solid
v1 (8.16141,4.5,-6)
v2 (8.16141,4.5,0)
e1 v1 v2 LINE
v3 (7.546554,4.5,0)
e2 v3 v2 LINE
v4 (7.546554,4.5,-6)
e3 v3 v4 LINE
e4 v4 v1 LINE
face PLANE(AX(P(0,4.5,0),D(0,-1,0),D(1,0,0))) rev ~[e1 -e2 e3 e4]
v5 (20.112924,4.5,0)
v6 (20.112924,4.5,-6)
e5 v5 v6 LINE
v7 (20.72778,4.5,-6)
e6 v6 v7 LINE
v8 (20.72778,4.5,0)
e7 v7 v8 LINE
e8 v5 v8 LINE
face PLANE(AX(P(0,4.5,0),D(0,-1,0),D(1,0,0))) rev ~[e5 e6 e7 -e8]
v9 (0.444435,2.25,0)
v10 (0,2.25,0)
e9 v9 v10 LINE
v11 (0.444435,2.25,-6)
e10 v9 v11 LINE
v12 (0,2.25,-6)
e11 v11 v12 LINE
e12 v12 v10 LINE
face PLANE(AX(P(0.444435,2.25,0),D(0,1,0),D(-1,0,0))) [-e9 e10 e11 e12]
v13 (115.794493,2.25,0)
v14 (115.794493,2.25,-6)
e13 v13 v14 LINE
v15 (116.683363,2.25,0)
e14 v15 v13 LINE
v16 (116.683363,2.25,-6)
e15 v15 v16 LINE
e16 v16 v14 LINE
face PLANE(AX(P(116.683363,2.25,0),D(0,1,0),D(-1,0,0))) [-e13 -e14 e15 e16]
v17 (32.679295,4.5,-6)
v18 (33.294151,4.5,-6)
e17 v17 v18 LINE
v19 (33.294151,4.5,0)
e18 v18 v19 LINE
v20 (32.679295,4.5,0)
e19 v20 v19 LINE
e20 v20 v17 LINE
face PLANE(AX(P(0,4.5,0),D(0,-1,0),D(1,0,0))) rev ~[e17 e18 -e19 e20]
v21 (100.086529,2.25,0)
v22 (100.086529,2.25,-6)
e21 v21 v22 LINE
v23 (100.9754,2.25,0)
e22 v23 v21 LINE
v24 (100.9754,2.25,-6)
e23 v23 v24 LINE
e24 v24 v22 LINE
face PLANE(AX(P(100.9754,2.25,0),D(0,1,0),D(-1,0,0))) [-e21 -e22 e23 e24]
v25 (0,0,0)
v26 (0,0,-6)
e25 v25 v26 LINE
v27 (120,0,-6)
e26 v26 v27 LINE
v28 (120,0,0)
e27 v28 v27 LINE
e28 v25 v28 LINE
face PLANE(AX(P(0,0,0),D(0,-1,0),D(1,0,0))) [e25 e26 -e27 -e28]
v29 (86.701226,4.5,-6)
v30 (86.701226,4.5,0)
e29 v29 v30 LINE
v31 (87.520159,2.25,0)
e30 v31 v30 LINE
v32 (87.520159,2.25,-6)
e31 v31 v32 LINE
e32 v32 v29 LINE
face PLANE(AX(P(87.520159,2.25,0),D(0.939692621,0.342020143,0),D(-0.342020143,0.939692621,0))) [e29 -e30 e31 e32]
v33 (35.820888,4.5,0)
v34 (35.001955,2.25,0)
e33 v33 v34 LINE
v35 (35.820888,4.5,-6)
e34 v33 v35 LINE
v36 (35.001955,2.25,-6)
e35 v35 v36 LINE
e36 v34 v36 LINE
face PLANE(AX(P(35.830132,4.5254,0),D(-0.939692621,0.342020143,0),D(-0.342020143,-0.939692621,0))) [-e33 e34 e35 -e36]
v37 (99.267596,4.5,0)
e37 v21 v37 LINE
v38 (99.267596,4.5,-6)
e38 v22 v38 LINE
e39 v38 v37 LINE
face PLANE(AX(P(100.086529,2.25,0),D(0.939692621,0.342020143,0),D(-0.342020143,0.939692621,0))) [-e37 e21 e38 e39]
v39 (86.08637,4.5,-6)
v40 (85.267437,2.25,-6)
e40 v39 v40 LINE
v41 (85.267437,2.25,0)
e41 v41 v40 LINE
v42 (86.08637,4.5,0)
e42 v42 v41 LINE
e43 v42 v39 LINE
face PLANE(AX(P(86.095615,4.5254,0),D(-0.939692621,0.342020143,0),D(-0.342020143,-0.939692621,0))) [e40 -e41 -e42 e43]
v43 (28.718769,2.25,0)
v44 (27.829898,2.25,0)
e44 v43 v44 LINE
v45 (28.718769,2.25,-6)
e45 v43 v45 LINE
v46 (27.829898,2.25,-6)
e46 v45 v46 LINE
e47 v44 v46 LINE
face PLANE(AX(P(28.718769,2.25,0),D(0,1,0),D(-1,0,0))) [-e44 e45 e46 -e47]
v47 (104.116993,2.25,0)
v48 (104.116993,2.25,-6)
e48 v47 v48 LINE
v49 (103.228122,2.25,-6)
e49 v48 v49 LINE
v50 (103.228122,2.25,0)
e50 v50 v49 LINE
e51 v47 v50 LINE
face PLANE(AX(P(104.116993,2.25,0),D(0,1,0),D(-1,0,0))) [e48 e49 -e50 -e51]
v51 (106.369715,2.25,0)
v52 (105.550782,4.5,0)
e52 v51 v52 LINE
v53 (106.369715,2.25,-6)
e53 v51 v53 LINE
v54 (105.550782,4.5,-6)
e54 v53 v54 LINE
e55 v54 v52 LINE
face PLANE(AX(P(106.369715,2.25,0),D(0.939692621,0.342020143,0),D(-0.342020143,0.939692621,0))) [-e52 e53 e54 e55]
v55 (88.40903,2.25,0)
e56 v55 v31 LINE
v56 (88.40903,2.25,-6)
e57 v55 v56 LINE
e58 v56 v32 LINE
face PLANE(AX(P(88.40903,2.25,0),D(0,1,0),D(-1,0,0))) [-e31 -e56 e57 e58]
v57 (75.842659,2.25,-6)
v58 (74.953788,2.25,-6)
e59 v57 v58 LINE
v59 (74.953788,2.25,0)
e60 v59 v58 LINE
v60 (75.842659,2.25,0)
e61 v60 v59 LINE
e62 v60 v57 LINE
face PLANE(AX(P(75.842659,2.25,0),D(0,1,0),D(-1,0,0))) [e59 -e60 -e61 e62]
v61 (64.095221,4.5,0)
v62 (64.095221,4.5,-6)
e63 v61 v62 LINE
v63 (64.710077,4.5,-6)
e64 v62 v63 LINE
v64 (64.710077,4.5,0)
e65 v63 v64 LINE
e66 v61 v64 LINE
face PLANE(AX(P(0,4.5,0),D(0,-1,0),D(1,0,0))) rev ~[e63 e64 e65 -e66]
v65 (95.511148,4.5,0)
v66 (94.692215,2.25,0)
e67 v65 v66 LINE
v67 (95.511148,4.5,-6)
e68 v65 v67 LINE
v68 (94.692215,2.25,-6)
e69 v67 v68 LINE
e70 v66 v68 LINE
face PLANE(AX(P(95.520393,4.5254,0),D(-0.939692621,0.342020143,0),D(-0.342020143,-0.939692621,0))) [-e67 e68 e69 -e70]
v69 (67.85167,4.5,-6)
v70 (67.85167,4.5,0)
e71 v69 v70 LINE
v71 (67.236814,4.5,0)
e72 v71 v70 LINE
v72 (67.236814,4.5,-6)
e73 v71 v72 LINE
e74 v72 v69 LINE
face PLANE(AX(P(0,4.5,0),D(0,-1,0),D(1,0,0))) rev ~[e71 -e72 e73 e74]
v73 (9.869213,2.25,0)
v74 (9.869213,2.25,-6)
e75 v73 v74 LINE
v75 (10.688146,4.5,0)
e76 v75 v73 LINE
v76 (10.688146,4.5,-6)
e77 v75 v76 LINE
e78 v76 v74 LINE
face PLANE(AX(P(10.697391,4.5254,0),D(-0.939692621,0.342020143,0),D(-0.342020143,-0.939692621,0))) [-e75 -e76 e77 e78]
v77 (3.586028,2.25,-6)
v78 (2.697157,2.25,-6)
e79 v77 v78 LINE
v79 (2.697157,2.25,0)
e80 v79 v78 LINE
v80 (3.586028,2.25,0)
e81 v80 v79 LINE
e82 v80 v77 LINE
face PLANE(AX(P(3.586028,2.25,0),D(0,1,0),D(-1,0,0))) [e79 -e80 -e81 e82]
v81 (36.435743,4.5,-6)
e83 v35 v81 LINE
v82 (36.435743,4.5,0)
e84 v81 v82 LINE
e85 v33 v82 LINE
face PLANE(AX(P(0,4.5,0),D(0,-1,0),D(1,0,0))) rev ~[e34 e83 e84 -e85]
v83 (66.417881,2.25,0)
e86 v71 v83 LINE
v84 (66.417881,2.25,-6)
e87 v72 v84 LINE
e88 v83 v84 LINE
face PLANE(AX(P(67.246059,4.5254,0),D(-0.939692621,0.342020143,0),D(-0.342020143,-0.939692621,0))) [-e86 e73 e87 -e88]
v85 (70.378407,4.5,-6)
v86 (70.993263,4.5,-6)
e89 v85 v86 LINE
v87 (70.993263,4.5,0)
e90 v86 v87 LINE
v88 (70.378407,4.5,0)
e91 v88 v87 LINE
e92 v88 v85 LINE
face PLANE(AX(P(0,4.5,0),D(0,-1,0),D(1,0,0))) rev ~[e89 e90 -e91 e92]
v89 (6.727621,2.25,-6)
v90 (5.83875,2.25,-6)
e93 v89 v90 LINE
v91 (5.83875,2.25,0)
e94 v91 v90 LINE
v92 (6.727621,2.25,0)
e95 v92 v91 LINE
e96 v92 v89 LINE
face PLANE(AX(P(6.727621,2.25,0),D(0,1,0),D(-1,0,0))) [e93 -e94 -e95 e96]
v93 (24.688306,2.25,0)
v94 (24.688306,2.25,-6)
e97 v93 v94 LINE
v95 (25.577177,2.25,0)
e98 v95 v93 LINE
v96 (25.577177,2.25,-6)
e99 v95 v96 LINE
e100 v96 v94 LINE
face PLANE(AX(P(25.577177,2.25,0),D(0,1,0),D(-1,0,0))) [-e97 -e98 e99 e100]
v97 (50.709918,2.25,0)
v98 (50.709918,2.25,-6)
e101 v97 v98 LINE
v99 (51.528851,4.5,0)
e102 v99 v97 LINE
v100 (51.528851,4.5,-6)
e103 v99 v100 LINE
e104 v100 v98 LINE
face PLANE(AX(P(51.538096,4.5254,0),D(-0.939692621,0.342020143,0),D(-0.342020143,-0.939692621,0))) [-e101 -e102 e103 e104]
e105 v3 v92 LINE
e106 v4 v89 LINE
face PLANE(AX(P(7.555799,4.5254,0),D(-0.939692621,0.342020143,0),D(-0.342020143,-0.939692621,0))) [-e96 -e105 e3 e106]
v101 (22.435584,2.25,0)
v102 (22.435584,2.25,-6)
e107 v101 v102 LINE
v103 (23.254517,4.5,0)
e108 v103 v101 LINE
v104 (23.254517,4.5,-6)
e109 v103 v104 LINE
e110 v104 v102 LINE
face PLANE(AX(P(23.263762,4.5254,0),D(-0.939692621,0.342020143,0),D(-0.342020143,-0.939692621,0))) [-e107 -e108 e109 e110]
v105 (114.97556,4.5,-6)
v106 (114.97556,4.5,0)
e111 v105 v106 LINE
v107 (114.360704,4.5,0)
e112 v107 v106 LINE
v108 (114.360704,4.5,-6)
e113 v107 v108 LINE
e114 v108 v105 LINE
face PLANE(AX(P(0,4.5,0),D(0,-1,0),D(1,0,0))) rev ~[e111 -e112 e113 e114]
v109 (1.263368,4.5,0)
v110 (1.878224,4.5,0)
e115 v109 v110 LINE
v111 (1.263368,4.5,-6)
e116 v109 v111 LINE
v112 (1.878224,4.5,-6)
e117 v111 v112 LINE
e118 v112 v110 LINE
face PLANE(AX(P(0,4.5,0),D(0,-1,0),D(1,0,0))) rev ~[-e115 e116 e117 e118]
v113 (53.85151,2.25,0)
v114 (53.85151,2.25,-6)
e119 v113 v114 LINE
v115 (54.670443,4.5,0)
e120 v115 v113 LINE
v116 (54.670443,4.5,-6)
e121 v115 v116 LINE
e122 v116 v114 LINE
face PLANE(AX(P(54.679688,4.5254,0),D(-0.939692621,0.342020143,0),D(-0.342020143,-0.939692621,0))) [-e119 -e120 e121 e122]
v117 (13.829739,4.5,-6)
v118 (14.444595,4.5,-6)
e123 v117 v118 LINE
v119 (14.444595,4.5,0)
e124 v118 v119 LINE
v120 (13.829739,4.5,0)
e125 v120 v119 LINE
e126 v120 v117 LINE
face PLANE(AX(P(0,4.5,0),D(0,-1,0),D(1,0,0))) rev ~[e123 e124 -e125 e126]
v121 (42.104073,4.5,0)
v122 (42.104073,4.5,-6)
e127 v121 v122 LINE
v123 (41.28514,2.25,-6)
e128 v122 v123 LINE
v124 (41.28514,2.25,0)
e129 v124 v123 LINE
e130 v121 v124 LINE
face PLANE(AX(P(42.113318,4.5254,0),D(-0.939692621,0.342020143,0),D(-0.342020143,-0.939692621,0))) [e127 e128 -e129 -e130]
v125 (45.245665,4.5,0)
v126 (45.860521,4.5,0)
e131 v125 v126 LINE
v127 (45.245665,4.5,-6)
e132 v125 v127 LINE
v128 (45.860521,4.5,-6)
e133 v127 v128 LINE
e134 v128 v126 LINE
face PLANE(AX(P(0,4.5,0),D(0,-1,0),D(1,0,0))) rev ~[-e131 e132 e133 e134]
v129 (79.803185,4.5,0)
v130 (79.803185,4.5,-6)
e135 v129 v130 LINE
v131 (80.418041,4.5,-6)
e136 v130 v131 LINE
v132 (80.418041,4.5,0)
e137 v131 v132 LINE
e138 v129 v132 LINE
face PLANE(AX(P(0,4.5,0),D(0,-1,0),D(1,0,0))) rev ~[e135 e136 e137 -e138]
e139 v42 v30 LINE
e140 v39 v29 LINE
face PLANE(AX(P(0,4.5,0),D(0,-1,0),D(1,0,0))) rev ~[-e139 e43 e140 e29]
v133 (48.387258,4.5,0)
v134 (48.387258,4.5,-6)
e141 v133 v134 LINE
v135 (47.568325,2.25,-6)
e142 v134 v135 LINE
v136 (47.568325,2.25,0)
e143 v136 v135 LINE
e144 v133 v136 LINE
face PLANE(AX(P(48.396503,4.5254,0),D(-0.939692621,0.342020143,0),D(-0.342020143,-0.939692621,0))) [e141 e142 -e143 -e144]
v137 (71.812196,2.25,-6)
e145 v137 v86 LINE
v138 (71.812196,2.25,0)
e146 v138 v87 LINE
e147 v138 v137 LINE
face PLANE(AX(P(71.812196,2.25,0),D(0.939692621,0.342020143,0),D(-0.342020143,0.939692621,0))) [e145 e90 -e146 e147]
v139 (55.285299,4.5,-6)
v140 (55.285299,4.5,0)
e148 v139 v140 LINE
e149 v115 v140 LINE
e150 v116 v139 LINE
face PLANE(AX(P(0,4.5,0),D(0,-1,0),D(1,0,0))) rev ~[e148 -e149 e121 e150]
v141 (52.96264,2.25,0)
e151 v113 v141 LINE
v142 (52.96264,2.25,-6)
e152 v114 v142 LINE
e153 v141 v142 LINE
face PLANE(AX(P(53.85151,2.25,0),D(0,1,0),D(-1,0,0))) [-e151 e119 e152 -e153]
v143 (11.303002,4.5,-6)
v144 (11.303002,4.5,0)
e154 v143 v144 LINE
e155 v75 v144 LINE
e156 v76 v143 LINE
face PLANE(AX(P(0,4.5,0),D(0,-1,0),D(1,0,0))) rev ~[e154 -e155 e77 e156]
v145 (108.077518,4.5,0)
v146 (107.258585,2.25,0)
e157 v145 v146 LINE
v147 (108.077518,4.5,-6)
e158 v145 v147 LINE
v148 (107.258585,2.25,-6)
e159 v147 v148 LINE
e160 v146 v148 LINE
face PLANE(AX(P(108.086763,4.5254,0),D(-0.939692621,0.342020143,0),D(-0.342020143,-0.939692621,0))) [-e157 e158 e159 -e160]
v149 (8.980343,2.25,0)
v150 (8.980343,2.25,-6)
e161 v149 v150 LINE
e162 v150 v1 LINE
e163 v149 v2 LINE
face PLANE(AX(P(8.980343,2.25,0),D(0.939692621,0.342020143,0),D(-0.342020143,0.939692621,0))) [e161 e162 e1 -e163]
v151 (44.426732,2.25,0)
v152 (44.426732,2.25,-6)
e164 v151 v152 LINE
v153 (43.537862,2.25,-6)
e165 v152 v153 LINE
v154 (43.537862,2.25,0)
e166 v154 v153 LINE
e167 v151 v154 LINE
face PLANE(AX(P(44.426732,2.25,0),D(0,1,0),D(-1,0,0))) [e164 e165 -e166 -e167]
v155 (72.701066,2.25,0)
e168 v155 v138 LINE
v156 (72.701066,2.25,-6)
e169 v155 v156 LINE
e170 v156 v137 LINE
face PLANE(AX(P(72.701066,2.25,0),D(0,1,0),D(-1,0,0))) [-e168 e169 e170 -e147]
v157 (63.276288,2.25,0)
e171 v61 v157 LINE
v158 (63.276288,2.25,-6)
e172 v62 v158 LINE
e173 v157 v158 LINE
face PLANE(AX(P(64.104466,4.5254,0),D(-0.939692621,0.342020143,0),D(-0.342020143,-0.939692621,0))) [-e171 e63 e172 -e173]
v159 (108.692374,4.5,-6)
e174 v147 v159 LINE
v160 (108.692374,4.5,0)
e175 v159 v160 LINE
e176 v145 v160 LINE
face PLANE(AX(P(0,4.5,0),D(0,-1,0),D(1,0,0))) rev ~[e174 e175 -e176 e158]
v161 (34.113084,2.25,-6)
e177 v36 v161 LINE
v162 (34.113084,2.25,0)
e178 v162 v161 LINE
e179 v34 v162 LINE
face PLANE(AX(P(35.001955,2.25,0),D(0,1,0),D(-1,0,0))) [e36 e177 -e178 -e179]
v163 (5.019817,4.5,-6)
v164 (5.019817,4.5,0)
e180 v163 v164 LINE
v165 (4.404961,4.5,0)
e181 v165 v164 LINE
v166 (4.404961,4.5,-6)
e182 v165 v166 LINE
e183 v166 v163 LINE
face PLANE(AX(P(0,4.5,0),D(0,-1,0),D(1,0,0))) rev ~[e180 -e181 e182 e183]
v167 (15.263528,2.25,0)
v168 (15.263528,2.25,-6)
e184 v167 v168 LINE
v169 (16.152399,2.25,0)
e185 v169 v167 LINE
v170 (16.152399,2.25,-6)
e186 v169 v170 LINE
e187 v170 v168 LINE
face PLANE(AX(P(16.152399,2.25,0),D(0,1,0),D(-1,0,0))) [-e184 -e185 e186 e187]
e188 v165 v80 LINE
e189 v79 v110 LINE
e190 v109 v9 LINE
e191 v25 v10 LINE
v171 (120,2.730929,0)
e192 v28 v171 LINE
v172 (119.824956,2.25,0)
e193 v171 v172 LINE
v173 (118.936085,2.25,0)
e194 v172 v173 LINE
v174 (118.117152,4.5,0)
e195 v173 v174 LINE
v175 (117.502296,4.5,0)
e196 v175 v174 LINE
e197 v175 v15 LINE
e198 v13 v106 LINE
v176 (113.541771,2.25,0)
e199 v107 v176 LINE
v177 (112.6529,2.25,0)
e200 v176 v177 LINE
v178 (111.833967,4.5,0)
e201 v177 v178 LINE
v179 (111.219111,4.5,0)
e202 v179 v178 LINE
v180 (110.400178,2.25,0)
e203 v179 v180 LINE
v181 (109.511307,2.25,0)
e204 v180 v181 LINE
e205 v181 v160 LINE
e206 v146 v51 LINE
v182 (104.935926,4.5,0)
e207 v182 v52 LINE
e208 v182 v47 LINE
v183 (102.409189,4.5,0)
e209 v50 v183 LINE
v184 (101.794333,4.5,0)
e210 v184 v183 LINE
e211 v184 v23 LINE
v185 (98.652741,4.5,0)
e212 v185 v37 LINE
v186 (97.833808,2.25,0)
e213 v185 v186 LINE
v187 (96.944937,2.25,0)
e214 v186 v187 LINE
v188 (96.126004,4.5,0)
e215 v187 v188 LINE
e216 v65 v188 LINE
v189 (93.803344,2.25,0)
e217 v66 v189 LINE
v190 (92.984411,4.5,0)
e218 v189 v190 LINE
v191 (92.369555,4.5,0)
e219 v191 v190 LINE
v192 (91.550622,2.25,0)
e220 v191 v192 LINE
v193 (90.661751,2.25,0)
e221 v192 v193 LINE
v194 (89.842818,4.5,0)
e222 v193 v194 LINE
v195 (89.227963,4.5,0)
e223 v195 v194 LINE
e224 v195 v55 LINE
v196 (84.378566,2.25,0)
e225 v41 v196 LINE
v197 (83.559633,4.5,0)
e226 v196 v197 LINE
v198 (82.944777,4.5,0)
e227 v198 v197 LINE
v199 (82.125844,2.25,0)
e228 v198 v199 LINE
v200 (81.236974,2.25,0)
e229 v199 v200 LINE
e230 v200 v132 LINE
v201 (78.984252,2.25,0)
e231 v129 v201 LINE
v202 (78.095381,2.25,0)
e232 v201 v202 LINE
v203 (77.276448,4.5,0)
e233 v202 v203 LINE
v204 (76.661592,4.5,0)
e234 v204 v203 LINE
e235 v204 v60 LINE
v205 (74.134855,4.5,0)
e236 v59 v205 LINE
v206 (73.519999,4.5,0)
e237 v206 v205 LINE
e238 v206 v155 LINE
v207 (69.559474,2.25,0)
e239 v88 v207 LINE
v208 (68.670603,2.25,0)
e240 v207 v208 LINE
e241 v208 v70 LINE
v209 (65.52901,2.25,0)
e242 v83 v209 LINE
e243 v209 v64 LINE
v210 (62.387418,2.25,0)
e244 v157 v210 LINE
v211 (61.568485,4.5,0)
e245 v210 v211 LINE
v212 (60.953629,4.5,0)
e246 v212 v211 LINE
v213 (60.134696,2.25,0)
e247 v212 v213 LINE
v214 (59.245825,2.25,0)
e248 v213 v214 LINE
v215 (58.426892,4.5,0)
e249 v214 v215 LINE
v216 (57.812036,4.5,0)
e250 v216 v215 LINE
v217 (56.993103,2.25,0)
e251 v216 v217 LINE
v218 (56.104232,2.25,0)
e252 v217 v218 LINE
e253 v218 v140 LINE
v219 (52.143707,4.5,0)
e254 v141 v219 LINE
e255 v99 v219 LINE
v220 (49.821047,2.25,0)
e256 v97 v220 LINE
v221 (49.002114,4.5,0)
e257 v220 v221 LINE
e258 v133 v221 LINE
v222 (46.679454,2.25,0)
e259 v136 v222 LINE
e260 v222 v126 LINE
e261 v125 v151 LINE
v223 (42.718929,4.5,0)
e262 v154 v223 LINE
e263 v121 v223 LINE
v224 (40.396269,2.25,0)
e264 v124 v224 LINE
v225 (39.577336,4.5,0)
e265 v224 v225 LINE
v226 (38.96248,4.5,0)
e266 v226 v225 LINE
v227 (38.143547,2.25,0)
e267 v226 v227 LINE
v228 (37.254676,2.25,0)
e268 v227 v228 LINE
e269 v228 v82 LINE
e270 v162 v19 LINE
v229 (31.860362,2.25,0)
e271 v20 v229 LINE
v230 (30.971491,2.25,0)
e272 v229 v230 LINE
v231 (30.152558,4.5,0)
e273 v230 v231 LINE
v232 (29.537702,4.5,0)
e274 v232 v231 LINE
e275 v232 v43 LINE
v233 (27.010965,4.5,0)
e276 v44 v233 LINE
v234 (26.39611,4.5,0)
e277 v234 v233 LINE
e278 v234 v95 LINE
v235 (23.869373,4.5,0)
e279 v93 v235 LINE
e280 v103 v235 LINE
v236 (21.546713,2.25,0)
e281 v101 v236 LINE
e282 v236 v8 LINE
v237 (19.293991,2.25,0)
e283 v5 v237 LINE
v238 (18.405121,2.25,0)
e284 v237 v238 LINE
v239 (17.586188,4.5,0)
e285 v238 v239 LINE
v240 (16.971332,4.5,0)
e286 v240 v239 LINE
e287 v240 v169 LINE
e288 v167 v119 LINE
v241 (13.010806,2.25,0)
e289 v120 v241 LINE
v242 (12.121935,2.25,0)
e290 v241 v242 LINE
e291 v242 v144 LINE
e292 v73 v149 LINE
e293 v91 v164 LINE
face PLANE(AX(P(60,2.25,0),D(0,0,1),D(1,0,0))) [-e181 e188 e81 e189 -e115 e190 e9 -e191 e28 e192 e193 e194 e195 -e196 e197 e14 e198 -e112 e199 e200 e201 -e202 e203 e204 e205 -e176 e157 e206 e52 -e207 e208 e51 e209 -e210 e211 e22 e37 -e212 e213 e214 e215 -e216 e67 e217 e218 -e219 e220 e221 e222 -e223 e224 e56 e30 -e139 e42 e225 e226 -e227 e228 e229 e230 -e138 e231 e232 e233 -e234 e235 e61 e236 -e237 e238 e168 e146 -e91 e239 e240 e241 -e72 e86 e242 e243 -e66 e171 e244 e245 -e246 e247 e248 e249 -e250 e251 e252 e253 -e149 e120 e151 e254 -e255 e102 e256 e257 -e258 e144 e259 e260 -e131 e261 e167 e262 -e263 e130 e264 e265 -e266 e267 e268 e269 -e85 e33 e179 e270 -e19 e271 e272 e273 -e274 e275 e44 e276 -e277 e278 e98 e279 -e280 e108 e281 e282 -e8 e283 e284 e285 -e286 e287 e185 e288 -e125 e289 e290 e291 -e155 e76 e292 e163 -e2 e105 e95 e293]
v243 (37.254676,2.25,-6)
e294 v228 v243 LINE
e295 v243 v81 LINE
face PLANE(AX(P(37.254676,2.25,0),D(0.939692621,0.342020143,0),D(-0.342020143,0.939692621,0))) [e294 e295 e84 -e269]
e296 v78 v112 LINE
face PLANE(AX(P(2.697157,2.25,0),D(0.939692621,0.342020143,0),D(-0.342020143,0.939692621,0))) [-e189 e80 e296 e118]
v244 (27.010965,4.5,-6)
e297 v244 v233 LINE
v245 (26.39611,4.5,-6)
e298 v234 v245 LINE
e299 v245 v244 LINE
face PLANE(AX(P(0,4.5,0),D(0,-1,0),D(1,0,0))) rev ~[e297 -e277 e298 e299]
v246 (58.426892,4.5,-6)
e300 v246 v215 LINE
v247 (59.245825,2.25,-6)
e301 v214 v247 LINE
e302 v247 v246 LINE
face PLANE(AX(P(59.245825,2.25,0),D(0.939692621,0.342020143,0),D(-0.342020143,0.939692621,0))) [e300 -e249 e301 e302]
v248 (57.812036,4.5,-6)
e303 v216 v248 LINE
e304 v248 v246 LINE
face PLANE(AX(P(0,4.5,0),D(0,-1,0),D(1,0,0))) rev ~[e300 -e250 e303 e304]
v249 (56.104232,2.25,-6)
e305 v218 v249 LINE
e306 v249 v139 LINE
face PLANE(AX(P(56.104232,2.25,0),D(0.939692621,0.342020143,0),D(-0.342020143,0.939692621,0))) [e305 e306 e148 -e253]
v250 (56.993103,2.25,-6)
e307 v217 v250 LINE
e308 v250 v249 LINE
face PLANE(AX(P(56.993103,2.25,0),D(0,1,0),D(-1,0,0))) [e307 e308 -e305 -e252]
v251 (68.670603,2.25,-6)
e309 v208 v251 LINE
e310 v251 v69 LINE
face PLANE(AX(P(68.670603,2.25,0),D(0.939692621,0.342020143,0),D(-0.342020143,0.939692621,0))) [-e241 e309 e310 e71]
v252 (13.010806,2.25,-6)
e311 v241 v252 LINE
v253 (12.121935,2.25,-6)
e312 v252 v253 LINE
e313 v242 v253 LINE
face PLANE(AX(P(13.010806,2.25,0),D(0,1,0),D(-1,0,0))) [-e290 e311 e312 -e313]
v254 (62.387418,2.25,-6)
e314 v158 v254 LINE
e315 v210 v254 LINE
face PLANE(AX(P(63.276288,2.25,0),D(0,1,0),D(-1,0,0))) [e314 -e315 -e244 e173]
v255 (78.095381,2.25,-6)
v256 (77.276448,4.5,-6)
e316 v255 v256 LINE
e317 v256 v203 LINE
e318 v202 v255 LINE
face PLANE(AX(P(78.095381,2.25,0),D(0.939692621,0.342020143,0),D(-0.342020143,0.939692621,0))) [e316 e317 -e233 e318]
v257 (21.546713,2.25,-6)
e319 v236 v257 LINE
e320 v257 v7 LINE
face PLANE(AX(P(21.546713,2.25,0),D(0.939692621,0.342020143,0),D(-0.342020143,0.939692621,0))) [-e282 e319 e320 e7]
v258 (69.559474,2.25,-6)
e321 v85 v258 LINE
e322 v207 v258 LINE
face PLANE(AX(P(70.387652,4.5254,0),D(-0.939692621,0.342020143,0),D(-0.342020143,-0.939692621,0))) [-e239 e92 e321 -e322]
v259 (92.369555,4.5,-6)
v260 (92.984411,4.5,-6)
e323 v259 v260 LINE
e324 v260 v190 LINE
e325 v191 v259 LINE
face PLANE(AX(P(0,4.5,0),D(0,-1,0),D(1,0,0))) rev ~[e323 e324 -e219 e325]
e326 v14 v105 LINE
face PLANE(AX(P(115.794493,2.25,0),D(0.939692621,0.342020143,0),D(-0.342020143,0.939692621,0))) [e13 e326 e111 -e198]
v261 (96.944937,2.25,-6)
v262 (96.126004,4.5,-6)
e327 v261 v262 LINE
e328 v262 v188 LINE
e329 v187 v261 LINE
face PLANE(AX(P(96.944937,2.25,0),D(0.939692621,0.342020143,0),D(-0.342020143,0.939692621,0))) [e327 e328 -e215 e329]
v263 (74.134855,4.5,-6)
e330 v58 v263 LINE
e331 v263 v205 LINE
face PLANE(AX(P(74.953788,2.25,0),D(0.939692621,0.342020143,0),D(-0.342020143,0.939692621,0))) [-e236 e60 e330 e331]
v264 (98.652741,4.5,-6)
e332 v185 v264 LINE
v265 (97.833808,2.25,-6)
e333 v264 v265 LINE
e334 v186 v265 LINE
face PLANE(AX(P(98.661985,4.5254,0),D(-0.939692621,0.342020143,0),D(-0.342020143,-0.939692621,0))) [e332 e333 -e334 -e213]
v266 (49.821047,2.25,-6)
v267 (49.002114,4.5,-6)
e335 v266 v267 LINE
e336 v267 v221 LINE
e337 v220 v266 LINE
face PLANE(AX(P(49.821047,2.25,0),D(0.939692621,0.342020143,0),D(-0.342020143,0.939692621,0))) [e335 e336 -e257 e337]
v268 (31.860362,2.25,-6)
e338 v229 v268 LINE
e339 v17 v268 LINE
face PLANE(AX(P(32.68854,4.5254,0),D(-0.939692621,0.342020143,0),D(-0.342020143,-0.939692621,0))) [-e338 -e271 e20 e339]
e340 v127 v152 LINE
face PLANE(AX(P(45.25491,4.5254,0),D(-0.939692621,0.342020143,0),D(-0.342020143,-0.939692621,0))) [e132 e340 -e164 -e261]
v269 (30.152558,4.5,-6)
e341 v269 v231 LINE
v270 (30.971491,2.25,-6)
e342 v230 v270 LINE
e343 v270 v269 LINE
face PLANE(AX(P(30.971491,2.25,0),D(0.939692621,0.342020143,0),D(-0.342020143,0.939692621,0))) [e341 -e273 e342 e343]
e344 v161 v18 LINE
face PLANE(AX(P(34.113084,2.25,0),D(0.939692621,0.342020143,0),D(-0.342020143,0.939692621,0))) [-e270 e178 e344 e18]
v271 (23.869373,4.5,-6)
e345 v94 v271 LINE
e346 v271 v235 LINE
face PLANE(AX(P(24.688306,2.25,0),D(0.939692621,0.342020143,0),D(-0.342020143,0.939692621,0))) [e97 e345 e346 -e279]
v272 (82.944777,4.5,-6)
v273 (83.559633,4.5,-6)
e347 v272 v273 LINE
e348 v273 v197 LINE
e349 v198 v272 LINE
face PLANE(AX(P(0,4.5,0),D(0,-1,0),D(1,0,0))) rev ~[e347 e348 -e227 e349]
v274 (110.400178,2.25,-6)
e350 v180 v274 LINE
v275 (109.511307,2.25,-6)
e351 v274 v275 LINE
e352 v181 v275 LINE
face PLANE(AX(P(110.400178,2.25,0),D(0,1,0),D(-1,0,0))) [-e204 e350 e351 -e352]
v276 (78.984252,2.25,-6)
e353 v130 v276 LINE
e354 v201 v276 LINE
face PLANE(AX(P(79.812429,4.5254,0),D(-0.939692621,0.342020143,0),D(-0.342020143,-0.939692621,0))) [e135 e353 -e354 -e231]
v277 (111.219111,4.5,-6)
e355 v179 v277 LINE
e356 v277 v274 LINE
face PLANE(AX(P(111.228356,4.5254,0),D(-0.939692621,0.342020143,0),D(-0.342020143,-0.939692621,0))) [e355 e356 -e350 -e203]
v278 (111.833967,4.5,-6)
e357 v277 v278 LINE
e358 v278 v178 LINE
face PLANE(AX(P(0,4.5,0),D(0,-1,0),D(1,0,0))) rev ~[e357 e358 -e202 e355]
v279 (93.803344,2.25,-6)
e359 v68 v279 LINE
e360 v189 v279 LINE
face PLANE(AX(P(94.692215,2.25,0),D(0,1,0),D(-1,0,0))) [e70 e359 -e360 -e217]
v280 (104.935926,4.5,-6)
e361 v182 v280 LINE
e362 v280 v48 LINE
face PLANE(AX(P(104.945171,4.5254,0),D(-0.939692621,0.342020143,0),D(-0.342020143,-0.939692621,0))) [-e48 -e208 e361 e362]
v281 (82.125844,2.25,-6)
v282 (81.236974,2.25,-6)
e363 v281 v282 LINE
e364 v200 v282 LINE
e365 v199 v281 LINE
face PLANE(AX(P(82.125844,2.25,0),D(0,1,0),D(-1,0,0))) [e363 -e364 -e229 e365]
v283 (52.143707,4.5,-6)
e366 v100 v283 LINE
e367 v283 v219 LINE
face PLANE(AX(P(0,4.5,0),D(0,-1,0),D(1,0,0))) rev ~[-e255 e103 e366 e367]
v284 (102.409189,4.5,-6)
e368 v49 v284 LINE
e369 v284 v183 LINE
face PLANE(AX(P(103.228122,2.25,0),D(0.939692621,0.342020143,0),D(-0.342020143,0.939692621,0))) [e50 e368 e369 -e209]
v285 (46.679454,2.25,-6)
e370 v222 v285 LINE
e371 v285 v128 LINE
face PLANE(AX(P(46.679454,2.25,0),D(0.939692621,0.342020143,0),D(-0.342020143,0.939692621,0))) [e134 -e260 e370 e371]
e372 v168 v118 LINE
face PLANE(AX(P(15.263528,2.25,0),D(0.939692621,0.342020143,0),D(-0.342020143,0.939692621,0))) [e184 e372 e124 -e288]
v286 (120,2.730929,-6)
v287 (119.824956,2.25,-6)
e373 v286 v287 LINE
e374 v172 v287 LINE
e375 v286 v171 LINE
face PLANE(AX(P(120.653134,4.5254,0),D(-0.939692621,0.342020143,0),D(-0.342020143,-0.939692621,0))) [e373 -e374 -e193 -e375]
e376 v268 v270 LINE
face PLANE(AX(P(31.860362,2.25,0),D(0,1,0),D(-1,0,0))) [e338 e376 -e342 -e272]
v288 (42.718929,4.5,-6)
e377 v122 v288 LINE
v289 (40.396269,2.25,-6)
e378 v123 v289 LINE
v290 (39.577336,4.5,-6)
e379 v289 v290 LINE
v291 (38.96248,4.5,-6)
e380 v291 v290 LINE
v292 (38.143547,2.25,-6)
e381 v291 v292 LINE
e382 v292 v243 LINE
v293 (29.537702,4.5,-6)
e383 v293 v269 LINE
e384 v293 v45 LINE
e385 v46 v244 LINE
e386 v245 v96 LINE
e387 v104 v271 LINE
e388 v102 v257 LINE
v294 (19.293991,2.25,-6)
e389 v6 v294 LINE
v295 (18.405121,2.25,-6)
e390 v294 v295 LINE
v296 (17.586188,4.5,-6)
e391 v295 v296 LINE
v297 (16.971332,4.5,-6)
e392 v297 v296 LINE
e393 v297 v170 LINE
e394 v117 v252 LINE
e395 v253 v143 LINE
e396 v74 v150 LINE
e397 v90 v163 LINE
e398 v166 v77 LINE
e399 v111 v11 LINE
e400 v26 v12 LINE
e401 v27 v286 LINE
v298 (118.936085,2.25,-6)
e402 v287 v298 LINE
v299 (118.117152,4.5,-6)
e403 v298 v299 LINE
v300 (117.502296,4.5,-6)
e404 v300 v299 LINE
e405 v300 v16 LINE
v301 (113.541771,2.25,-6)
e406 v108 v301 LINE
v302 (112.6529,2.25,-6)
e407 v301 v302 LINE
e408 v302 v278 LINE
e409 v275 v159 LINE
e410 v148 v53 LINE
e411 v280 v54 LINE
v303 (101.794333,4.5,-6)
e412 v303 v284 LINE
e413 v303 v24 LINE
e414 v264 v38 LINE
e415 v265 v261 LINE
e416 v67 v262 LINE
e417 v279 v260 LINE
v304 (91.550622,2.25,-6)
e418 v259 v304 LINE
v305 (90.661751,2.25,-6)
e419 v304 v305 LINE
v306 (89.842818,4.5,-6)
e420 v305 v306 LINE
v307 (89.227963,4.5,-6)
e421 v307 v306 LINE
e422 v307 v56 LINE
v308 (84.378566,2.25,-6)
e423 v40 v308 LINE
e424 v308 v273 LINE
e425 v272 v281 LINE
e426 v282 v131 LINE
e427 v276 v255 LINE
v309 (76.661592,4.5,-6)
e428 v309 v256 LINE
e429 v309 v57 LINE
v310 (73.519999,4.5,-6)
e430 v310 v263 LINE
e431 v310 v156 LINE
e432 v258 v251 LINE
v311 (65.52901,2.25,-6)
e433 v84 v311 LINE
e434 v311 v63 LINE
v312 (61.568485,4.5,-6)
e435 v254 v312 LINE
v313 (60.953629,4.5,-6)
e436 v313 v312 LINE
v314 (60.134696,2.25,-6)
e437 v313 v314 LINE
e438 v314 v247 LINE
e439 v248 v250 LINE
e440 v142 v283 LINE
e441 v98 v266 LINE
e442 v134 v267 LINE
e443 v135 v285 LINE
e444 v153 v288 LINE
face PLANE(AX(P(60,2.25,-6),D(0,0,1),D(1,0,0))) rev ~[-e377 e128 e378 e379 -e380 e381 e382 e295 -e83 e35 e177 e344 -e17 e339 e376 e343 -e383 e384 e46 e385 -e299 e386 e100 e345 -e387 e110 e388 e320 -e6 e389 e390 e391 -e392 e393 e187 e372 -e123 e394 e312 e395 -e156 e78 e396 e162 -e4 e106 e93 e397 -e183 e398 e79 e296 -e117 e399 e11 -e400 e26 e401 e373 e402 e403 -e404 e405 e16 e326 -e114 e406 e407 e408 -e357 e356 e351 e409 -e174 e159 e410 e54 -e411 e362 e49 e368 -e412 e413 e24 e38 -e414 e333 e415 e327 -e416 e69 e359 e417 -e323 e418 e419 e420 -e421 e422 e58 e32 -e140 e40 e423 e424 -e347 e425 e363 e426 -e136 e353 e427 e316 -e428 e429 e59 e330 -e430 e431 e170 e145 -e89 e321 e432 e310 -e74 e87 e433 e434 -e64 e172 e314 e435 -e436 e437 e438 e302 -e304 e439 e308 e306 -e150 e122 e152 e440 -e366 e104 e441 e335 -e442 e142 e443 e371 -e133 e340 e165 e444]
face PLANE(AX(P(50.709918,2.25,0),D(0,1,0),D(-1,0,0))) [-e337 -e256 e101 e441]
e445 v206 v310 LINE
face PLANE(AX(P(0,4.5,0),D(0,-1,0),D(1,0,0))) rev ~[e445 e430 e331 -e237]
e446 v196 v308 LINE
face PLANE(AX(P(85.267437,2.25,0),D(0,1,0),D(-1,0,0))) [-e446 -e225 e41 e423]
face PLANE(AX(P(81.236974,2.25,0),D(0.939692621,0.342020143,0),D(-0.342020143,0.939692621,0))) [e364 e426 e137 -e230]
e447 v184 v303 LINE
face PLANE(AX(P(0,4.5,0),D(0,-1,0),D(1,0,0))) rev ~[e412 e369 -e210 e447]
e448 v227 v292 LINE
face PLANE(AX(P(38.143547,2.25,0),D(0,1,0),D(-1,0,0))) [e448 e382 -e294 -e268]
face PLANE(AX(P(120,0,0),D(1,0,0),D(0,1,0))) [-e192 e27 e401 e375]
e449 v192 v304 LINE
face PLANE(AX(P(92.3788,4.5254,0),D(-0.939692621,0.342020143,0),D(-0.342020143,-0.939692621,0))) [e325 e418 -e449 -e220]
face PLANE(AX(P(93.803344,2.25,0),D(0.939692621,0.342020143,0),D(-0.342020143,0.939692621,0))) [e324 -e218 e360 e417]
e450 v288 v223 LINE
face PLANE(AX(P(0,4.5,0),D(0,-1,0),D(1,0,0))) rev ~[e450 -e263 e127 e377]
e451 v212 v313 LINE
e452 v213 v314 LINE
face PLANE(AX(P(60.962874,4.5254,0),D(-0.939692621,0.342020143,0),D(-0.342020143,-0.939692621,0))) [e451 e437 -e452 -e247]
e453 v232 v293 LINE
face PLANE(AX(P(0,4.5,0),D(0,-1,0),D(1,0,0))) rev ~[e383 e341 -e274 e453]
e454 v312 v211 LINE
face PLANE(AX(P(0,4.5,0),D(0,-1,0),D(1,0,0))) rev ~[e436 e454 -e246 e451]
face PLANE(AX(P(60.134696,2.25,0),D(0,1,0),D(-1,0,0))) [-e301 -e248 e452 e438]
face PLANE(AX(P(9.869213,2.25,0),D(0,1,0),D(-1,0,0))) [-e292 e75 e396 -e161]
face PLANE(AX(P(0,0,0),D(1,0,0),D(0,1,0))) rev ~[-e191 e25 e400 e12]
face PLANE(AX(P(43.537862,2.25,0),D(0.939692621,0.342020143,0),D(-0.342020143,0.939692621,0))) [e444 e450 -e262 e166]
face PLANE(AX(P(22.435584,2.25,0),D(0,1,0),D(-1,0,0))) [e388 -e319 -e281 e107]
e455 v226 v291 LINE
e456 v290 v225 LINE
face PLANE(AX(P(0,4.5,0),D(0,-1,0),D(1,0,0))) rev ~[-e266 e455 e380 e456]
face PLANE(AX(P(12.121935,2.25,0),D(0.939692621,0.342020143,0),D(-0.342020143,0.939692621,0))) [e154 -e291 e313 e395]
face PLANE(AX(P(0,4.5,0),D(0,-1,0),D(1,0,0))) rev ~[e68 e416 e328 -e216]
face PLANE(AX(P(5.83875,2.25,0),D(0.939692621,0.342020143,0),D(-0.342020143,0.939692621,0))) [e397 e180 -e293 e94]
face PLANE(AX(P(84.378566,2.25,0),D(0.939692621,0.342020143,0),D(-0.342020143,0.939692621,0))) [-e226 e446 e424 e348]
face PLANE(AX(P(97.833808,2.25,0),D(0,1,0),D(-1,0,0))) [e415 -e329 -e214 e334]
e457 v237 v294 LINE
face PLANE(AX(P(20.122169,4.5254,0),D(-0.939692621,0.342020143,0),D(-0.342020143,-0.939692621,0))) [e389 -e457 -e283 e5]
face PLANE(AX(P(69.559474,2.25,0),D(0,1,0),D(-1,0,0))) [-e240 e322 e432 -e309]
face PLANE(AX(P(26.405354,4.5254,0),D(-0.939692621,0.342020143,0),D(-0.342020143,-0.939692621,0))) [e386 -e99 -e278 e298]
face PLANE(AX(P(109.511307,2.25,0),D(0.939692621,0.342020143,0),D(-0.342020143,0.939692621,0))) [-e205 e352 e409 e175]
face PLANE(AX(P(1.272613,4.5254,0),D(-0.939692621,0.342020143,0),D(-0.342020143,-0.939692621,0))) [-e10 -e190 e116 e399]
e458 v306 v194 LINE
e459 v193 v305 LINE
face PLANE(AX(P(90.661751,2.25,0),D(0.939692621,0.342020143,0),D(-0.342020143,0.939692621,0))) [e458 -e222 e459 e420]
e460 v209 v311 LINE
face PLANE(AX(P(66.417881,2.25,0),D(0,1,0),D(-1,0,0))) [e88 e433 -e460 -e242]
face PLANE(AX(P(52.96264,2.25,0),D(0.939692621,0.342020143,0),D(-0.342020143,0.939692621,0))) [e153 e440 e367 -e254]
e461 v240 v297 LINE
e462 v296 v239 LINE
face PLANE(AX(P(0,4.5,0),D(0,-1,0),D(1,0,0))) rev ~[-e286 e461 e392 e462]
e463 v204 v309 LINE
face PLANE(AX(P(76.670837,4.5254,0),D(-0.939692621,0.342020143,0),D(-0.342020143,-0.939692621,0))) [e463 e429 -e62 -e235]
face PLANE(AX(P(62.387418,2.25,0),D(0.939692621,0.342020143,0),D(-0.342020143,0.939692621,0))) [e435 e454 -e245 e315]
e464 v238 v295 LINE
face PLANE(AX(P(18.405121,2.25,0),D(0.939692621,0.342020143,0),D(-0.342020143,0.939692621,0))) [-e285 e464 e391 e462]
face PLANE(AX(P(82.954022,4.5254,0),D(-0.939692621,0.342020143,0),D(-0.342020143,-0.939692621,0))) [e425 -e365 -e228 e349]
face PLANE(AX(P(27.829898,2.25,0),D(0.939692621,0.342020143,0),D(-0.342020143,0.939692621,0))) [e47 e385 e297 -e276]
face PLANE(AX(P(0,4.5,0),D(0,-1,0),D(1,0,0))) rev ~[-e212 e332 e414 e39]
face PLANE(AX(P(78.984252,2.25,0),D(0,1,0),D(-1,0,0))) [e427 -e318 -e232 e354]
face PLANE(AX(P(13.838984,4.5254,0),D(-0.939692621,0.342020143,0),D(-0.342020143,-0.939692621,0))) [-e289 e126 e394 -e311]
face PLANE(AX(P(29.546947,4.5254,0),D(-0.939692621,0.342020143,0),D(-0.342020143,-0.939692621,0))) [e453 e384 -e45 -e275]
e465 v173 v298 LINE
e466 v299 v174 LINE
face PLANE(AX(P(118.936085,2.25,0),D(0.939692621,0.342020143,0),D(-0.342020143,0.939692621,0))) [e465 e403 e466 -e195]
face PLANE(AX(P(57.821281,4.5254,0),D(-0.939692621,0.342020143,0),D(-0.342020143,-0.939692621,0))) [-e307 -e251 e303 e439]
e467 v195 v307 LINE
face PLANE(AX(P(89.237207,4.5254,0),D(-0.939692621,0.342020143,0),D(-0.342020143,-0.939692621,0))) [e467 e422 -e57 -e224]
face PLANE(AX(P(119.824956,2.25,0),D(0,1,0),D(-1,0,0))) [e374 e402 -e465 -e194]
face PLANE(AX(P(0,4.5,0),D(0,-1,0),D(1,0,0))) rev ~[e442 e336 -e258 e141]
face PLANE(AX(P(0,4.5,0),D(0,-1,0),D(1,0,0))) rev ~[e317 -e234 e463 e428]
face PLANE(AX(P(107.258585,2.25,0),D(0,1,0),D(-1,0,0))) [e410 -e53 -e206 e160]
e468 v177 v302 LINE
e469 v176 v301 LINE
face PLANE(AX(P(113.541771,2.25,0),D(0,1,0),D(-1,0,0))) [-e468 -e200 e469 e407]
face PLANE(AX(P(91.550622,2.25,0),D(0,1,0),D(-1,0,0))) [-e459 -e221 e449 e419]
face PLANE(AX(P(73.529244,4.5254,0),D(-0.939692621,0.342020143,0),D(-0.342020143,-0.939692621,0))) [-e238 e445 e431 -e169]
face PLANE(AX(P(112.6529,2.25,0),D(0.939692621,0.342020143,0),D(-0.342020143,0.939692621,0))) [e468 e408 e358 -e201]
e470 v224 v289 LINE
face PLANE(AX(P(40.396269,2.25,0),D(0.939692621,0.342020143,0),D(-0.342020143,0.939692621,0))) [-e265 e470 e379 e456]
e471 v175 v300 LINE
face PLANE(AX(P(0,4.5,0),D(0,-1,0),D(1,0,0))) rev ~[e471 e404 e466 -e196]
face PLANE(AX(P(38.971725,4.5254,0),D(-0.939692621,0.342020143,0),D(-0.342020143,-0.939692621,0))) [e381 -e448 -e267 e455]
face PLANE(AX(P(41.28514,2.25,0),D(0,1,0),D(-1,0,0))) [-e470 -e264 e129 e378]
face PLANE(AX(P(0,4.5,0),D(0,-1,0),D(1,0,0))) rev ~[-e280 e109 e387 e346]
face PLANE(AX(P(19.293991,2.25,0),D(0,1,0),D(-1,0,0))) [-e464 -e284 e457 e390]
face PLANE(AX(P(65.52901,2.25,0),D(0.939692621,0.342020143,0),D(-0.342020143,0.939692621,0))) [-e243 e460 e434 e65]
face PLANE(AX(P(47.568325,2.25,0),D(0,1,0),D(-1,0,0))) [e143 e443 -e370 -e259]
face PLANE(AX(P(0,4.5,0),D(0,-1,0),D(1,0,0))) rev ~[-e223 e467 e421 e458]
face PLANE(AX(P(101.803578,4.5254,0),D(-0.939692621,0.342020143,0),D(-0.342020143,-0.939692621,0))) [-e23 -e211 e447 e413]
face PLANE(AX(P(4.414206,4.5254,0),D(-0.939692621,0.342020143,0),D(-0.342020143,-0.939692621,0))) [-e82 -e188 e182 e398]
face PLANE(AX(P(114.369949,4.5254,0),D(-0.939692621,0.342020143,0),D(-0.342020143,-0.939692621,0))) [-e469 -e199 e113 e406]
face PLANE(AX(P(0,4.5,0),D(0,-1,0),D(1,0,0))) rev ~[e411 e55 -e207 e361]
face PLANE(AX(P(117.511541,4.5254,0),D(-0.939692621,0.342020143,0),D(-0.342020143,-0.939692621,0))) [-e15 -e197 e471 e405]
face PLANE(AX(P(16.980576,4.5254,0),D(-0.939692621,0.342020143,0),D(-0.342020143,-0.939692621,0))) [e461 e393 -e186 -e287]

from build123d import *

# Parameters (mm, degrees)
BLANKSKE_W        = 120
BLANKSKE_H        = 4.5
BLANK_DEPTH       = 6
TOOTHCUTSIM_DEPTH = 121.234146564
TEETHCUTS_COUNT   = 39
TEETHCUTS_PITCH   = 3.14159265


with BuildPart() as part:
    # BlankSke → Blank (new body)
    with BuildSketch(Plane.XY):
        with Locations((60, 2.25)):
            Rectangle(BLANKSKE_W, BLANKSKE_H)
    extrude(amount=-BLANK_DEPTH)

    # TooCutSkeSim → ToothCutSim (cut, through all)
    with BuildSketch(Plane.XY):
        Polygon((0.44443537, 2.25), (-0.44443537, 2.25), (-1.272613241, 4.5254), (1.272613241, 4.5254), align=None)
    toothcutsim = extrude(amount=-TOOTHCUTSIM_DEPTH, mode=Mode.SUBTRACT)

    # TeethCuts: ToothCutSim ×39
    with Locations(*[(i * TEETHCUTS_PITCH, 0, 0) for i in range(1, TEETHCUTS_COUNT)]):
        add(toothcutsim, mode=Mode.SUBTRACT)


solid = part.part
